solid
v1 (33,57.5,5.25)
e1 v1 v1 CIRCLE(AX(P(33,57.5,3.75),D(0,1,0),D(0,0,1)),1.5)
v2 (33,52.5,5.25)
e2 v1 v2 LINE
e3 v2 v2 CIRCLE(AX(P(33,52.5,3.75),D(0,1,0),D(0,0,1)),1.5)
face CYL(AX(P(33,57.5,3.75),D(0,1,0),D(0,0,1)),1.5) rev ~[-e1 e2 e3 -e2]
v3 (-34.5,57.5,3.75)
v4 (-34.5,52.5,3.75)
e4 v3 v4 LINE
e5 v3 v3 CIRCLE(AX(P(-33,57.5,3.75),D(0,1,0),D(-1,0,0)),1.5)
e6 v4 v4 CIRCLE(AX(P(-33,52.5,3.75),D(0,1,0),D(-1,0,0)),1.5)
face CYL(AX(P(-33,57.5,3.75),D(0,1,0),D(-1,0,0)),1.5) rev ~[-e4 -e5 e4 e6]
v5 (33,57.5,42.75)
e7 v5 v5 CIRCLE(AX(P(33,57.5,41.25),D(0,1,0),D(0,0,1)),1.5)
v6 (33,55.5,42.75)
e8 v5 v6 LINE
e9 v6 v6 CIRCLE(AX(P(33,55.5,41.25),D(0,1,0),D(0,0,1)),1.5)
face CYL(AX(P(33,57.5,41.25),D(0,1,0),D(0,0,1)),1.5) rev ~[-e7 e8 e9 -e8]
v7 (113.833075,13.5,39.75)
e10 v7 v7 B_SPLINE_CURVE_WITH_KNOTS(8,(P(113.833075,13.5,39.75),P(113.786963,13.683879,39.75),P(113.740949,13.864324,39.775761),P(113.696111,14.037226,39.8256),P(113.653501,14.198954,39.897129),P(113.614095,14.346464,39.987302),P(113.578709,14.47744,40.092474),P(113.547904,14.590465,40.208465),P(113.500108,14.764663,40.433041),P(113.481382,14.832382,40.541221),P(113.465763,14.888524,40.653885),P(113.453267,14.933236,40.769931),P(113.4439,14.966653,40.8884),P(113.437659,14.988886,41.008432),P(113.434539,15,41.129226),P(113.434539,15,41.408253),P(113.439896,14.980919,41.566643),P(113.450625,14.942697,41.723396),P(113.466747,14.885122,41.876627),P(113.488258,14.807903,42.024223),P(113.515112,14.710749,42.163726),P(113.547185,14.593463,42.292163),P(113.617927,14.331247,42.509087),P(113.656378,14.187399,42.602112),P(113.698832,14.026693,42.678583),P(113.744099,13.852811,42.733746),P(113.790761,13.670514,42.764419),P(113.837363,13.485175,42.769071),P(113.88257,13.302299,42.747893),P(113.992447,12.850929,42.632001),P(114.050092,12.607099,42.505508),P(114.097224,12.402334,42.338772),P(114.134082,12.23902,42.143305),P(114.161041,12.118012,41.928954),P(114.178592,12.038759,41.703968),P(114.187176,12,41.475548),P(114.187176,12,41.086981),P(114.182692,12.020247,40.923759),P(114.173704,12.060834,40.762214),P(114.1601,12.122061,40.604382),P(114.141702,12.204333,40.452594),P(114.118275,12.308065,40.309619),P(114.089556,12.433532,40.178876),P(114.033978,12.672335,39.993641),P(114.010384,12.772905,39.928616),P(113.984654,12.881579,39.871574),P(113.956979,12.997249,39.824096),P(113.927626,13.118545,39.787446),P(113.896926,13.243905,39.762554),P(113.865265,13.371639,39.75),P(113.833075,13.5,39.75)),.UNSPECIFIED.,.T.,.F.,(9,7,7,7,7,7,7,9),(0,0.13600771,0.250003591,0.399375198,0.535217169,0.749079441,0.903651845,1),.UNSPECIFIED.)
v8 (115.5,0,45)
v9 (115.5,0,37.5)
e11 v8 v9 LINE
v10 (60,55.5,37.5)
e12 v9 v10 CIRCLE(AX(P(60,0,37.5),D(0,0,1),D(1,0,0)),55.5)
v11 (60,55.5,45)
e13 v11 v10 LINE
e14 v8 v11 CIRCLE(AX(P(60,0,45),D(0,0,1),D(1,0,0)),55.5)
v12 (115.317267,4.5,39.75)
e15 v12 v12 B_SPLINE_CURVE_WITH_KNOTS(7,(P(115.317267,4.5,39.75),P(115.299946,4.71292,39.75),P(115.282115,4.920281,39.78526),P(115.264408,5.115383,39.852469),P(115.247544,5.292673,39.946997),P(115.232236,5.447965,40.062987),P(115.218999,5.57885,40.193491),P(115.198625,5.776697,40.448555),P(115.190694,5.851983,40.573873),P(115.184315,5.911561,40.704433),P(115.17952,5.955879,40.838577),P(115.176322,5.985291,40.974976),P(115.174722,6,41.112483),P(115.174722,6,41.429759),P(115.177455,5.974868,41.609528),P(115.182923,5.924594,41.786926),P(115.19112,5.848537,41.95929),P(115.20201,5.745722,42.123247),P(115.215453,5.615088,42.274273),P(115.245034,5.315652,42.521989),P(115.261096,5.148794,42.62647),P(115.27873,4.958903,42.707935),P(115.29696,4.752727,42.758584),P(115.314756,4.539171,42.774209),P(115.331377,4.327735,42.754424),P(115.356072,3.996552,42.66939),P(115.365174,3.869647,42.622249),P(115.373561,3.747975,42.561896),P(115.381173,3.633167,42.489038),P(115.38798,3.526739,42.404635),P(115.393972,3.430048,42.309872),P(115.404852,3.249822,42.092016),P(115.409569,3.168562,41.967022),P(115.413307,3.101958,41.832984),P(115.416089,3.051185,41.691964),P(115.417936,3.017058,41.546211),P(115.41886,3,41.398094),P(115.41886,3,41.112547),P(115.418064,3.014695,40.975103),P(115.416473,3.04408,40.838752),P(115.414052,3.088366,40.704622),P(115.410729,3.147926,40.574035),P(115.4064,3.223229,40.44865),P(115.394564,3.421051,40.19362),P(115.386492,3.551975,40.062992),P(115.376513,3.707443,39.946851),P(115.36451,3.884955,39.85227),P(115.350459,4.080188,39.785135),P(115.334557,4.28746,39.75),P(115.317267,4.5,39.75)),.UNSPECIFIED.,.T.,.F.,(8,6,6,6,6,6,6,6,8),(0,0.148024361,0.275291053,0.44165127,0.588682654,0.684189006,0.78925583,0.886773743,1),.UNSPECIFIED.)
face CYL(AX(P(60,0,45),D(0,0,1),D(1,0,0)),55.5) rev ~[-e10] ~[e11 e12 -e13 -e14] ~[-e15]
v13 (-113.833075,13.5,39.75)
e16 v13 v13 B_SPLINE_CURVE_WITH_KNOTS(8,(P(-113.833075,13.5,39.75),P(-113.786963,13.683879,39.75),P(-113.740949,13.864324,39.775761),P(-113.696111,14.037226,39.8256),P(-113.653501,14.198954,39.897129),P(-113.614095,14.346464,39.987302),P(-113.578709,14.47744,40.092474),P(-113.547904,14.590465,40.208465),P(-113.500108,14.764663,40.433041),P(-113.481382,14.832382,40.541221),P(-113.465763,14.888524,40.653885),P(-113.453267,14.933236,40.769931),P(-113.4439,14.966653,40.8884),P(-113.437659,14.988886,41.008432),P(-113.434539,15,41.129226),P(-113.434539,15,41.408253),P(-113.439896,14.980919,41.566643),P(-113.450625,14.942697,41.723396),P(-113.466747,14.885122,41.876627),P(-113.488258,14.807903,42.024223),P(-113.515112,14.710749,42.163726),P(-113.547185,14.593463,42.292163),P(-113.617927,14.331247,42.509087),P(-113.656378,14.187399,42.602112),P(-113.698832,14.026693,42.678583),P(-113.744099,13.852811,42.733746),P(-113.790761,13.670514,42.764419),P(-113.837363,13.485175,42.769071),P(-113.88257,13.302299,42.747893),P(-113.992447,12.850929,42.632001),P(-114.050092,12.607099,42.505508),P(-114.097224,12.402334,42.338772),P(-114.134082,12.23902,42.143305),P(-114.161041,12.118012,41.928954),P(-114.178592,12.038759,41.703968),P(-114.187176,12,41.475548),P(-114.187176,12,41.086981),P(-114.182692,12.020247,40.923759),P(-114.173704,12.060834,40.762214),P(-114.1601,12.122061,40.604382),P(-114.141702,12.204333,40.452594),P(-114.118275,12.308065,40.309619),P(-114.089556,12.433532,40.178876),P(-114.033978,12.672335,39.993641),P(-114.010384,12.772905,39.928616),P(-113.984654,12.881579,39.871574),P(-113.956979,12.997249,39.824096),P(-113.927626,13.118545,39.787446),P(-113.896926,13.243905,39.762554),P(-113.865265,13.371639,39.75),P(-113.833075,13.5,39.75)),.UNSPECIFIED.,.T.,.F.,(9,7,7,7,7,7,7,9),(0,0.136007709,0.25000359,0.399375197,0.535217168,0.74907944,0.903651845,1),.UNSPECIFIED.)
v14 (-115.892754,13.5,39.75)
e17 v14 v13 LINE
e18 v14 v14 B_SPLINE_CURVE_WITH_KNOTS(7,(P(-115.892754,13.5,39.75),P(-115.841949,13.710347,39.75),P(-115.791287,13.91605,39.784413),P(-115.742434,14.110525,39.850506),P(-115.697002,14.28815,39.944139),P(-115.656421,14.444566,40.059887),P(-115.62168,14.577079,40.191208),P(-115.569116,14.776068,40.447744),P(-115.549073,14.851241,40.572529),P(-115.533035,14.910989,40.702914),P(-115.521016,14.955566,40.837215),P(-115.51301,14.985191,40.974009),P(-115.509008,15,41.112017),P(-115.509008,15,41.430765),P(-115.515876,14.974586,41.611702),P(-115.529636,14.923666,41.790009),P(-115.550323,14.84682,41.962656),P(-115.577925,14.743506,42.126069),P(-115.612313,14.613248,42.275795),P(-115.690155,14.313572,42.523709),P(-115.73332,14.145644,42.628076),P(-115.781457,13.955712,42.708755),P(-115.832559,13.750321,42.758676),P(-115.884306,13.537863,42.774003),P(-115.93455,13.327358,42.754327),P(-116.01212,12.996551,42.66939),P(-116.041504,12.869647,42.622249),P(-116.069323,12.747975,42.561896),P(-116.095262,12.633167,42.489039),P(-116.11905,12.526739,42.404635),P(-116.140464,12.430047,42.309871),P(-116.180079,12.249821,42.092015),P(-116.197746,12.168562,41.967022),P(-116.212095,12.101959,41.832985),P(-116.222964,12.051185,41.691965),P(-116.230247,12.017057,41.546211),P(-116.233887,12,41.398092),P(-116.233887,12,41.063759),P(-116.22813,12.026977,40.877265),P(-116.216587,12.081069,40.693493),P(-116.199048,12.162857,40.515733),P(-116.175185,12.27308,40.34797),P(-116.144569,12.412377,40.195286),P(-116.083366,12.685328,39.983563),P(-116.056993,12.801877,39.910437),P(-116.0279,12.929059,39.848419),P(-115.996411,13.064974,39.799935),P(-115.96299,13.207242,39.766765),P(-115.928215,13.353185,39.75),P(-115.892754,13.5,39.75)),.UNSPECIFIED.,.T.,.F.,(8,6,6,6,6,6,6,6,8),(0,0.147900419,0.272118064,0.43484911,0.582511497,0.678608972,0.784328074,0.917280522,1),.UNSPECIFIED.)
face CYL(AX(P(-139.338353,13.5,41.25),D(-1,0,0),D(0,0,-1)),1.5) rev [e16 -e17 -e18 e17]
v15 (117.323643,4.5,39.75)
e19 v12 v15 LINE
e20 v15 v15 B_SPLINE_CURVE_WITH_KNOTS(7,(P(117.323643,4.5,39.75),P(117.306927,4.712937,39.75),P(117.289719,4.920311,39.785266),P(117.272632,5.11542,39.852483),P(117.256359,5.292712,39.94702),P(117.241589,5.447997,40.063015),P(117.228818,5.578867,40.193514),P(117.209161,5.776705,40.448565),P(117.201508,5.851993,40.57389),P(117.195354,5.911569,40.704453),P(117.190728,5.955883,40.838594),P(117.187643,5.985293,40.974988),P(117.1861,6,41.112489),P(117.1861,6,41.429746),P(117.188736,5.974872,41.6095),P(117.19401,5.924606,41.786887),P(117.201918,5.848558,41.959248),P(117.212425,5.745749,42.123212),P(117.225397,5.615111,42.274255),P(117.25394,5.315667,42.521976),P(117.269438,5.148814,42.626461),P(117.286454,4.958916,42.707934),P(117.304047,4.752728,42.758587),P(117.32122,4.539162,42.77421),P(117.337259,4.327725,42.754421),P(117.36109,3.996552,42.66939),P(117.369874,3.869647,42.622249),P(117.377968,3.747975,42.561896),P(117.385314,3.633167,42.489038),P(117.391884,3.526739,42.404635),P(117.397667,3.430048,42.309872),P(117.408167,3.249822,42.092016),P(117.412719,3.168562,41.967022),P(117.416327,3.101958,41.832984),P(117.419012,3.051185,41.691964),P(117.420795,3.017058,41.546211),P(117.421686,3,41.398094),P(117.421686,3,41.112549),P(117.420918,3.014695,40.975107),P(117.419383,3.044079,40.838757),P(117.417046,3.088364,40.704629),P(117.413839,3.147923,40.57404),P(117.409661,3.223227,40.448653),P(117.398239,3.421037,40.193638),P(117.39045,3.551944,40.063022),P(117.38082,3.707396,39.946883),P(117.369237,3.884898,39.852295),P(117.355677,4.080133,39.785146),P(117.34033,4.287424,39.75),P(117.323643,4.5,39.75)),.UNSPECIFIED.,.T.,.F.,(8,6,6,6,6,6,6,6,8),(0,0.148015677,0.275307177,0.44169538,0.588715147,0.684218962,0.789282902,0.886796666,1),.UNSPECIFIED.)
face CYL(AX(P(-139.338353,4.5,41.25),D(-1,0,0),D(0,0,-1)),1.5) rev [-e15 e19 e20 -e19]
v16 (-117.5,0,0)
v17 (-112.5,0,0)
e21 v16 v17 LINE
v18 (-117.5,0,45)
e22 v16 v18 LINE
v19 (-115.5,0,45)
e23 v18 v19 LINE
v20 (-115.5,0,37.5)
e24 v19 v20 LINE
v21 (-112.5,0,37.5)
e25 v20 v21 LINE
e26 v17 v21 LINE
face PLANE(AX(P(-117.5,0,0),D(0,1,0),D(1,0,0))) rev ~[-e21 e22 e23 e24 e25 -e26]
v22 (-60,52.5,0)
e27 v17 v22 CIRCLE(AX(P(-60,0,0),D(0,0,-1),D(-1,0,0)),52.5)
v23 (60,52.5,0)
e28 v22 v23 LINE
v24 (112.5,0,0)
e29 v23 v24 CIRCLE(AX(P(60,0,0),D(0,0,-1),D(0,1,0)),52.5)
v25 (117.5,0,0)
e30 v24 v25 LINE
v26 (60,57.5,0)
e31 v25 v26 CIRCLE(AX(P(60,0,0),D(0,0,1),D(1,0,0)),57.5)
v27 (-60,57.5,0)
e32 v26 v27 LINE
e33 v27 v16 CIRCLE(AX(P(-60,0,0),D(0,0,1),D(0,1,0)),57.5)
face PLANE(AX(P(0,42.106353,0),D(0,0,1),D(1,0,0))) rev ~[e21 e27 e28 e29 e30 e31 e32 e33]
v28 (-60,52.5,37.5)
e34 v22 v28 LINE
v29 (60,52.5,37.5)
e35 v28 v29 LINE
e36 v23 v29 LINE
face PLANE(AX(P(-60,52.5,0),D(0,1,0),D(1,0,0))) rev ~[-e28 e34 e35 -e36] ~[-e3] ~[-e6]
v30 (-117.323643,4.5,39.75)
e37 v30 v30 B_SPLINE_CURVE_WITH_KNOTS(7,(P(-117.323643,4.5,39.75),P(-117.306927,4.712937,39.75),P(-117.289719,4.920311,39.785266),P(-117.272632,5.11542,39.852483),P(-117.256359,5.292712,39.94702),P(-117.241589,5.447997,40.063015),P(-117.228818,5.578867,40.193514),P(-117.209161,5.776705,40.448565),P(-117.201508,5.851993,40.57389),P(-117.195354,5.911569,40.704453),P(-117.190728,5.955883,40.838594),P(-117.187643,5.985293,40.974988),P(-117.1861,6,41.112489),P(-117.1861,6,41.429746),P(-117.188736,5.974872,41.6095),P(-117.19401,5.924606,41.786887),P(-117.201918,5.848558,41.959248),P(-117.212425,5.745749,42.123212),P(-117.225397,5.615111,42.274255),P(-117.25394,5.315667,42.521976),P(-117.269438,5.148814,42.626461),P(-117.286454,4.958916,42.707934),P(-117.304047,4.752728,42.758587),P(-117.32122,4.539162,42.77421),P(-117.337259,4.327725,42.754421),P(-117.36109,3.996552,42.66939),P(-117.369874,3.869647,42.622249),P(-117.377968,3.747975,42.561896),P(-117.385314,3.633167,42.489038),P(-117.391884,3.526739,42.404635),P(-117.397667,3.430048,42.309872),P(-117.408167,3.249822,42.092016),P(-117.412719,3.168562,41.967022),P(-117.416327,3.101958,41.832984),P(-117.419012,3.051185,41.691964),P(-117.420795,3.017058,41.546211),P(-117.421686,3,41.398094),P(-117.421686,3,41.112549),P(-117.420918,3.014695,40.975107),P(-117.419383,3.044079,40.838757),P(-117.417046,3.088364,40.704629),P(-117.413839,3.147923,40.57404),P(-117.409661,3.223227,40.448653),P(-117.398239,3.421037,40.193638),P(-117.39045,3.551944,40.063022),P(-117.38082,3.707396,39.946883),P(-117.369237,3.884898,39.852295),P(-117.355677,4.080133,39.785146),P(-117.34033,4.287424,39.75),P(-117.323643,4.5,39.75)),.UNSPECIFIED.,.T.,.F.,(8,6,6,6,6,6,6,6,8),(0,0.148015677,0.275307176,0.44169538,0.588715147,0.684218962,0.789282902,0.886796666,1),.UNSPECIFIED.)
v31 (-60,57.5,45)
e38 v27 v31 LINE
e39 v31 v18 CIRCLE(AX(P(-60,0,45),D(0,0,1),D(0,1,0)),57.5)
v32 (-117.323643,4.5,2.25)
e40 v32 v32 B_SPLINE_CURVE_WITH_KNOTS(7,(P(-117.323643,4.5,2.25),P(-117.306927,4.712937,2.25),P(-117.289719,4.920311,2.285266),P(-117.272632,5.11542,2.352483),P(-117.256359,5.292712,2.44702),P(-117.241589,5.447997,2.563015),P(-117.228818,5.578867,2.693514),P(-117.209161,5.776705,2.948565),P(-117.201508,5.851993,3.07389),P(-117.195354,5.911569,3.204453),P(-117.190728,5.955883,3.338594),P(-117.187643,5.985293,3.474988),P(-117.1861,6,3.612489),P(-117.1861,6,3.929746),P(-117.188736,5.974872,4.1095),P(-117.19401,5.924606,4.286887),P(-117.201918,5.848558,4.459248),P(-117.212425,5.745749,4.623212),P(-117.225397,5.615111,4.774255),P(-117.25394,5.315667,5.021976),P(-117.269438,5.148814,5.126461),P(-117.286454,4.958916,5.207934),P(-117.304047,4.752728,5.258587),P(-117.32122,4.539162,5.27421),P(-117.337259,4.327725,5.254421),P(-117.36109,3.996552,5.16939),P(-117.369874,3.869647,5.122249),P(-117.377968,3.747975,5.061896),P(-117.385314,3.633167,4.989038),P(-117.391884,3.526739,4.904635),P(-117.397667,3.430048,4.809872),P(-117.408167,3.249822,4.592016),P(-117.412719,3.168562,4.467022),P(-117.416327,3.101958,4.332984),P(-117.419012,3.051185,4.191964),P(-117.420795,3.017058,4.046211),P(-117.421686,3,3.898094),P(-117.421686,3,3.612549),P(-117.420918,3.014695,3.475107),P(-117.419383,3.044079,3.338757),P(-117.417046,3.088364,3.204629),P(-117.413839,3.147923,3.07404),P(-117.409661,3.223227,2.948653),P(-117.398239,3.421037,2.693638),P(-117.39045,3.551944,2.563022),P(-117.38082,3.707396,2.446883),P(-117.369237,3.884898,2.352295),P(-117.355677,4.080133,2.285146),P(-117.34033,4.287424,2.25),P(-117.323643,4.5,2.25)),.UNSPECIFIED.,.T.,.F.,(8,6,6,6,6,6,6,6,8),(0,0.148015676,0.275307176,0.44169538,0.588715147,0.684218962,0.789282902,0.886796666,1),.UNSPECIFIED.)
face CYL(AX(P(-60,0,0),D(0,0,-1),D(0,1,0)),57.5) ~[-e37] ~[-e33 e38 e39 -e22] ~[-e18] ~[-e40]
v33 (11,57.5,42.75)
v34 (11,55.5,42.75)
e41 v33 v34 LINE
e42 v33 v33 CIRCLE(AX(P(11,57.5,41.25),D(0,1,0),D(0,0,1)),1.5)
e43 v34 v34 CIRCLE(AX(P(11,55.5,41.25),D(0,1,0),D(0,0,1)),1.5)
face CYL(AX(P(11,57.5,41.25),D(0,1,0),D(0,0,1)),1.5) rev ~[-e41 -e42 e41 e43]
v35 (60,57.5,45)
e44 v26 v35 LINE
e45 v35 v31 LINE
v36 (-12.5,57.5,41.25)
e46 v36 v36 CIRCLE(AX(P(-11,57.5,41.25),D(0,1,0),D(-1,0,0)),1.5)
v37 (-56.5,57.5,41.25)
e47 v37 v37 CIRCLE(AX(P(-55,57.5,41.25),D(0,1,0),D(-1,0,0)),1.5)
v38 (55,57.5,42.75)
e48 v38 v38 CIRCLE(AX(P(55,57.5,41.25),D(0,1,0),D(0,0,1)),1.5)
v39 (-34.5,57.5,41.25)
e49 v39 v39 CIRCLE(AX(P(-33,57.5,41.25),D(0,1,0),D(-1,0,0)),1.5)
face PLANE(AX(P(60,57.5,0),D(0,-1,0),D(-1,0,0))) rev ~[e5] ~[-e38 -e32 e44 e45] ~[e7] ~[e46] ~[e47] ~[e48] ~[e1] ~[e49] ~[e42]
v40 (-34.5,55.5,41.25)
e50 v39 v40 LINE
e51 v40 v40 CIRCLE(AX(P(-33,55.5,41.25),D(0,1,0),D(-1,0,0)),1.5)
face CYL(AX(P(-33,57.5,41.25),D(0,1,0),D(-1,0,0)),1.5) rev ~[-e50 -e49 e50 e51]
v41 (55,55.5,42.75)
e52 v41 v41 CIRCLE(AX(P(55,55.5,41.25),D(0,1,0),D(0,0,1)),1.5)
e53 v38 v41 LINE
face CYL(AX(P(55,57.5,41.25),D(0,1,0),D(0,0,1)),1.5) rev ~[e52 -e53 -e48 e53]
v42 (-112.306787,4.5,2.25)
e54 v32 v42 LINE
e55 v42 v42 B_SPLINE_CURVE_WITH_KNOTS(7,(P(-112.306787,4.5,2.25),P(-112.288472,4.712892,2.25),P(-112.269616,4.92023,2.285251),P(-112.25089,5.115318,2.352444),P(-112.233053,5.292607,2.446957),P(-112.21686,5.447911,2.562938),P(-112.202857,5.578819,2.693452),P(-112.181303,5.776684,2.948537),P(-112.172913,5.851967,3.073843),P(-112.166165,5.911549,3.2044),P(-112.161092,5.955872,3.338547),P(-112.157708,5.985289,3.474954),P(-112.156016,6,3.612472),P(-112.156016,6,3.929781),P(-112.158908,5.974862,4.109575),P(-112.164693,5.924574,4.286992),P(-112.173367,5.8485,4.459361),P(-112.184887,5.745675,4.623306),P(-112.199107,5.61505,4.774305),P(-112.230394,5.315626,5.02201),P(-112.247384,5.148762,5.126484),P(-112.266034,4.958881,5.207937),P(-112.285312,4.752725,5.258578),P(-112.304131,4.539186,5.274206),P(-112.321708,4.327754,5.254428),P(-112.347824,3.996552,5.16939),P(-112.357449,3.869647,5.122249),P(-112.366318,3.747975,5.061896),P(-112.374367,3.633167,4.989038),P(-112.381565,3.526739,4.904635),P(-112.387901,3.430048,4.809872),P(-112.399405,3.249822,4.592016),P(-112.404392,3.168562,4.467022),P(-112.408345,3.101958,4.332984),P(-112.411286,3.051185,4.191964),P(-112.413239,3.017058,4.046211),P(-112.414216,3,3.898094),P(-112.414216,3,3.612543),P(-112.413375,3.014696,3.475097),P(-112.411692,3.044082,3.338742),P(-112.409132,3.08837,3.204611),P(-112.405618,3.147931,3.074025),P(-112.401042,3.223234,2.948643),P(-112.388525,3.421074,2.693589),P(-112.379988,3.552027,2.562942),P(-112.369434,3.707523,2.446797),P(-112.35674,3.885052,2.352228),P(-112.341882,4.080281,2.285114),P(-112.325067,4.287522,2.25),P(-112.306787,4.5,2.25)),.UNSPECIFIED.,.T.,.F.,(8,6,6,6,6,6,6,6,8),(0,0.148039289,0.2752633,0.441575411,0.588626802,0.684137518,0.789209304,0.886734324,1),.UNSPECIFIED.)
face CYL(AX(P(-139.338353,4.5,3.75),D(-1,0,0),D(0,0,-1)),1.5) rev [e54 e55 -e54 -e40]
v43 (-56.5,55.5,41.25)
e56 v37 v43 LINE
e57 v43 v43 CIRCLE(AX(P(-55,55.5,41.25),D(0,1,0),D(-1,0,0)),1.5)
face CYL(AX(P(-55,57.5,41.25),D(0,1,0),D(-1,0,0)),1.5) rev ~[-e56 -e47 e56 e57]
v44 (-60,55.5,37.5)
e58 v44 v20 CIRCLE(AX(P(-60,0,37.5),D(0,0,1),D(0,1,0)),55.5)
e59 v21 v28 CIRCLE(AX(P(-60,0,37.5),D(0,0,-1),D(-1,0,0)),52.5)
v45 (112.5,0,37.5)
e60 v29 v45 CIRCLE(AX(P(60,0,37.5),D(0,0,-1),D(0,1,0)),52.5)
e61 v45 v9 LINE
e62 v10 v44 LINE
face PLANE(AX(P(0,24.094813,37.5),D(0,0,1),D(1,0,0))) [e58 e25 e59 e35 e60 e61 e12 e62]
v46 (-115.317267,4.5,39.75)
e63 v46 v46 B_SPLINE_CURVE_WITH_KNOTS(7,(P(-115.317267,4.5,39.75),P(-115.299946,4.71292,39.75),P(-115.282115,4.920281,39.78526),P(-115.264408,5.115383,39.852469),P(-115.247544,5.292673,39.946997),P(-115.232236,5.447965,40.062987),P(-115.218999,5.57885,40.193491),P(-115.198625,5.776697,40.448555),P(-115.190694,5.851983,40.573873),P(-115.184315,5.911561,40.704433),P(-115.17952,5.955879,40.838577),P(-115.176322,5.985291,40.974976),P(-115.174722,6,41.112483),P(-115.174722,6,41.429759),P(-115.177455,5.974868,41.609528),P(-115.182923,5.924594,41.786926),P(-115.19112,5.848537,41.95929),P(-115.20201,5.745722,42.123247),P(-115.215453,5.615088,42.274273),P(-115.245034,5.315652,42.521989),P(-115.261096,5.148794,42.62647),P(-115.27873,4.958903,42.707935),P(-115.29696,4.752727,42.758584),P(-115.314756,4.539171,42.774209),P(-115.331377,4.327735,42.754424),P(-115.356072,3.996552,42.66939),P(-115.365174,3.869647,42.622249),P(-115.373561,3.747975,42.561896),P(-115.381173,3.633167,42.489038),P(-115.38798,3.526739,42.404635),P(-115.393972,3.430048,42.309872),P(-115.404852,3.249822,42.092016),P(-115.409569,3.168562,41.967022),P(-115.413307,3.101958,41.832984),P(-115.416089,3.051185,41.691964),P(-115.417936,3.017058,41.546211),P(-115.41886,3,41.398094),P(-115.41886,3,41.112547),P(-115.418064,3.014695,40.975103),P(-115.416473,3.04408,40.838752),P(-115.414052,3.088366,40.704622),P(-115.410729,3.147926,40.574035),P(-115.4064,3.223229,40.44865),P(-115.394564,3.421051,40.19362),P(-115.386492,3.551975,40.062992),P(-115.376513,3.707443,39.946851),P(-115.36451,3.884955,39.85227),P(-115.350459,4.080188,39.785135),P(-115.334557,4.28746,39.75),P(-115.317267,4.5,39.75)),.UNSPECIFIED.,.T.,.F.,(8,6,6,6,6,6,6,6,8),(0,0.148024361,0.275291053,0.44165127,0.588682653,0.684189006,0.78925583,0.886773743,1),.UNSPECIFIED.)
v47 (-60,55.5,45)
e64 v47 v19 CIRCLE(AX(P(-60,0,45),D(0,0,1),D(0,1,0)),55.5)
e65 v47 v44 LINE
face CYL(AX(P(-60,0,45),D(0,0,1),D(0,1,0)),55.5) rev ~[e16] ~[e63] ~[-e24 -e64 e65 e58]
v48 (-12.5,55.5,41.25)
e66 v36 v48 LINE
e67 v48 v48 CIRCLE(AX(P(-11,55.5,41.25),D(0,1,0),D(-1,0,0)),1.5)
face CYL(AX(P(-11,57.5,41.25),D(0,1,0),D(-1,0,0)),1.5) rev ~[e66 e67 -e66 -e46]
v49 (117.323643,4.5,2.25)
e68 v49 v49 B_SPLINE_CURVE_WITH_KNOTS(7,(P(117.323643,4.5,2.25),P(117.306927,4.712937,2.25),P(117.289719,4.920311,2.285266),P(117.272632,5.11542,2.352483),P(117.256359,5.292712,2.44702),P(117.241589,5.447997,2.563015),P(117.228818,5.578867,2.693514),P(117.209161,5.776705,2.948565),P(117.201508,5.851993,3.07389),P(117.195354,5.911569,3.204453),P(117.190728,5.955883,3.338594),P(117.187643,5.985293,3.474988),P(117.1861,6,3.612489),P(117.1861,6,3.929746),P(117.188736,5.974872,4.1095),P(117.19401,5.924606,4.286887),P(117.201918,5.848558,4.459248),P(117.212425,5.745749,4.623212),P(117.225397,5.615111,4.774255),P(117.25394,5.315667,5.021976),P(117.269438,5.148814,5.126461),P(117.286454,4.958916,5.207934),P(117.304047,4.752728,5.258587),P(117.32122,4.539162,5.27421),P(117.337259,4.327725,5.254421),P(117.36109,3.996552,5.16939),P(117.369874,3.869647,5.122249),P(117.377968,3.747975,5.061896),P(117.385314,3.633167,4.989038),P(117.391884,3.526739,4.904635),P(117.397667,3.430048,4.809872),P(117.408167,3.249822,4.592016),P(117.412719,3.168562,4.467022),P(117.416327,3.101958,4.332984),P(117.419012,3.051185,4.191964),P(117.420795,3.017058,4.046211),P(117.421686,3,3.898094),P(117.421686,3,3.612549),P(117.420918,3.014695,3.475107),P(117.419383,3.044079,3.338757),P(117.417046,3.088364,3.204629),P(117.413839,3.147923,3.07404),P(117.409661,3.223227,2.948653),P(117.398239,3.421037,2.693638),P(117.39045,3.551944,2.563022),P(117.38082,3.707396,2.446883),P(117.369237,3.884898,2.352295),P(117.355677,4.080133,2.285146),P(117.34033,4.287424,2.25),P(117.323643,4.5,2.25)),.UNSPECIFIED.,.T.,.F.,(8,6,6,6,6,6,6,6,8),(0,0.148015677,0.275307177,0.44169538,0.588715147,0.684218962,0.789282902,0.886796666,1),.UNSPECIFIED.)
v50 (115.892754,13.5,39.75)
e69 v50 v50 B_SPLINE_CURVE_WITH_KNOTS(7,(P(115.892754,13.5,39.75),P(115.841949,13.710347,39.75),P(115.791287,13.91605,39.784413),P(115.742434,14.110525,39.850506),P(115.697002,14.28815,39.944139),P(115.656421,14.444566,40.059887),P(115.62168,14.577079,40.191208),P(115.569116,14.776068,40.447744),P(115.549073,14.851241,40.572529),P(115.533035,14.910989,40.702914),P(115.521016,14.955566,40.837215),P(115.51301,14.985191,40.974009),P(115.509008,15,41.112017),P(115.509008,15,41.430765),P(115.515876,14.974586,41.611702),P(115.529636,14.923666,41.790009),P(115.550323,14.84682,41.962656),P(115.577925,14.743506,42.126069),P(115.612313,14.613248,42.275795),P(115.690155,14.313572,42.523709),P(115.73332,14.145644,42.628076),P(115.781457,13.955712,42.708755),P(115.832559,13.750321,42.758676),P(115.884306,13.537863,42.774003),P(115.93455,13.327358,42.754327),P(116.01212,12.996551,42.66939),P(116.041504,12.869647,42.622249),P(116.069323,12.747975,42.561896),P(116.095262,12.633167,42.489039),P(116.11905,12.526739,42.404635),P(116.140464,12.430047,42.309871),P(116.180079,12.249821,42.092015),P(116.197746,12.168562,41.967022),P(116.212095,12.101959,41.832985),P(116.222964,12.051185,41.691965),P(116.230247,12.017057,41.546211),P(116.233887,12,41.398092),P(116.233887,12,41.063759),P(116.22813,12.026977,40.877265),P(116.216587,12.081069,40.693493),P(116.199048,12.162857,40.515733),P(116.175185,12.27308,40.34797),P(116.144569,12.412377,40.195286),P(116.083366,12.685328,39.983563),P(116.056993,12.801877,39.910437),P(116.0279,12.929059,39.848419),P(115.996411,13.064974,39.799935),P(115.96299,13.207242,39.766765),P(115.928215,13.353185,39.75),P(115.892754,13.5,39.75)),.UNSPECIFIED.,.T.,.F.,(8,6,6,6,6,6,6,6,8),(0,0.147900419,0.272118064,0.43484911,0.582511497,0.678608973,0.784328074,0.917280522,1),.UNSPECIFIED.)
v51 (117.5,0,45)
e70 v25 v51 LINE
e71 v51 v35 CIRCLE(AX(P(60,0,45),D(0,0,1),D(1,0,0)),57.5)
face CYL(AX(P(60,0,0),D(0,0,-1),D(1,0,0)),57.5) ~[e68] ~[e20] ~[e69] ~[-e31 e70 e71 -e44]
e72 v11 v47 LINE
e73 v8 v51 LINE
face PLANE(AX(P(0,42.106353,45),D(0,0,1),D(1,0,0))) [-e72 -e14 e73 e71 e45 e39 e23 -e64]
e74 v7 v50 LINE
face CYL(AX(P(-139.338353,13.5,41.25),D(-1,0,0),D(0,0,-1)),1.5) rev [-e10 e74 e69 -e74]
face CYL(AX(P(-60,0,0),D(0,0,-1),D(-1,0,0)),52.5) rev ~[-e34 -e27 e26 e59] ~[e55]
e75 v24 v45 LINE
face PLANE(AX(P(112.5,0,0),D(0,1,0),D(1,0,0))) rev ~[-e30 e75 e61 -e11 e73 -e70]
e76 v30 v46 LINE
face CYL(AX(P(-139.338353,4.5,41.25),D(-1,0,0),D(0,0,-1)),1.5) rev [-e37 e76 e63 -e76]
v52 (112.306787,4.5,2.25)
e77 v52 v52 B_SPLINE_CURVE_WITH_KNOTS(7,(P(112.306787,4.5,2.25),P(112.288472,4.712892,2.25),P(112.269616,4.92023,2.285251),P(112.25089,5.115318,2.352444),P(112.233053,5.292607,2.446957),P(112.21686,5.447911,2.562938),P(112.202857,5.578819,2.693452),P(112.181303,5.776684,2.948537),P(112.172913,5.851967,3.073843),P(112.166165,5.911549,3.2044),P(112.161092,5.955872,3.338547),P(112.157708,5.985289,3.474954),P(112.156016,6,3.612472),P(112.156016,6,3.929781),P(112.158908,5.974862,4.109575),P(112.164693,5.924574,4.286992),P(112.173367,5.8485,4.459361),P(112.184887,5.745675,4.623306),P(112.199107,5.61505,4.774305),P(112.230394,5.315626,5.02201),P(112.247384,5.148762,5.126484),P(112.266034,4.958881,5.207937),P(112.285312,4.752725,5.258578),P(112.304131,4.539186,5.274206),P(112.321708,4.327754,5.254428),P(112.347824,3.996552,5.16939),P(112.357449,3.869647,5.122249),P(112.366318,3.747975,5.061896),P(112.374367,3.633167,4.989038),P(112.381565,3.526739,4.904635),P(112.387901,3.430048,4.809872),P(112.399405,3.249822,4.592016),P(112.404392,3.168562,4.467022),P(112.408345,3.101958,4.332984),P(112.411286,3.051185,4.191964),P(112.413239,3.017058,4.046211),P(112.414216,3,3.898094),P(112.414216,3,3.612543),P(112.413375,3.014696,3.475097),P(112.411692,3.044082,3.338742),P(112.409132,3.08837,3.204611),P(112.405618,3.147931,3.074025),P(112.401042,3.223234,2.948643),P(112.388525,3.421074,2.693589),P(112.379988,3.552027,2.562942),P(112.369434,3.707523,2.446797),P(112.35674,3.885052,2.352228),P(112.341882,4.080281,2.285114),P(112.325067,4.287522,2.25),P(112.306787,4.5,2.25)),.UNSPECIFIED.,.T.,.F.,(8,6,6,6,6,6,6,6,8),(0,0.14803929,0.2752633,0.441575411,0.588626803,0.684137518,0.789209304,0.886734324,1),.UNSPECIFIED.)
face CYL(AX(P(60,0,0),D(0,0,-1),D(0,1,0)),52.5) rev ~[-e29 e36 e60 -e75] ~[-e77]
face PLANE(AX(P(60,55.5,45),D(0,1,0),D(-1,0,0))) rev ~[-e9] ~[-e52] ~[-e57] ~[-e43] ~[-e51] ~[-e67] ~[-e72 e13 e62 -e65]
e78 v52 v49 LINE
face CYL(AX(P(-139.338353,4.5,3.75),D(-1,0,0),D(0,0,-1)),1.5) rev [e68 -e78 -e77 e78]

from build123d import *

# Parameters (mm, degrees)
BOSS_EXTRUDE1_DEPTH     = 45
CUT_EXTRUDE1_DEPTH      = 7.5
SKETCH4_R               = 1.5
CUT_EXTRUDE2_DEPTH      = 7.5
CUT_EXTRUDE3_DEPTH      = 139.338353323
CUT_EXTRUDE3_DEPTH_BACK = 139.338353323
SKETCH5_R               = 1.5


with BuildPart() as part:
    # Sketch1 → Boss-Extrude1 (new body)
    with BuildSketch(Plane.XY):
        with BuildLine():
            ThreePointArc((-112.5, 0), (-97.123106012, 37.123106012), (-60, 52.5))
            Line((-60, 52.5), (60, 52.5))
            ThreePointArc((60, 52.5), (97.123106012, 37.123106012), (112.5, 0))
            Line((112.5, 0), (117.5, 0))
            ThreePointArc((117.5, 0), (100.658639918, 40.658639918), (60, 57.5))
            Line((60, 57.5), (-60, 57.5))
            ThreePointArc((-60, 57.5), (-100.658639918, 40.658639918), (-117.5, 0))
            Line((-117.5, 0), (-112.5, 0))
        make_face()
    extrude(amount=BOSS_EXTRUDE1_DEPTH)

    # Sketch3 → Cut-Extrude1 (cut)
    with BuildSketch(Plane.XY.offset(45)):
        with BuildLine():
            Line((-115.5, 0), (115.5, 0))
            ThreePointArc((115.5, 0), (99.244426356, 39.244426356), (60, 55.5))
            Line((60, 55.5), (-60, 55.5))
            ThreePointArc((-60, 55.5), (-99.244426356, 39.244426356), (-115.5, 0))
        make_face()
    extrude(amount=-CUT_EXTRUDE1_DEPTH, mode=Mode.SUBTRACT)

    # Sketch4 → Cut-Extrude2 (cut)
    with BuildSketch(Plane(origin=(0, 57.5, 0), x_dir=(1, 0, 0), z_dir=(0, 1, 0))):
        with Locations(Location((33, -3.75, 0), (0, 0, 270))):
            Circle(SKETCH4_R)
        with Locations(Location((11, -41.25, 0), (0, 0, 270))):
            Circle(SKETCH4_R)
        with Locations(Location((33, -41.25, 0), (0, 0, 270))):
            Circle(SKETCH4_R)
        with Locations(Location((55, -41.25, 0), (0, 0, 270))):
            Circle(SKETCH4_R)
        with Locations(Location((-33, -3.75, 0), (0, 0, 180))):
            Circle(SKETCH4_R)
        with Locations(Location((-11, -41.25, 0), (0, 0, 180))):
            Circle(SKETCH4_R)
        with Locations(Location((-33, -41.25, 0), (0, 0, 180))):
            Circle(SKETCH4_R)
        with Locations(Location((-55, -41.25, 0), (0, 0, 180))):
            Circle(SKETCH4_R)
    extrude(amount=-CUT_EXTRUDE2_DEPTH, mode=Mode.SUBTRACT)

    # Sketch5 → Cut-Extrude3 (cut, two sides: drawn at the far end of the back side and taken through both)
    with BuildSketch(Plane(origin=(0, 0, 0), x_dir=(0, 0, -1), z_dir=(1, 0, 0)).offset(-CUT_EXTRUDE3_DEPTH_BACK)):
        with Locations((-3.75, 4.5)):
            Circle(SKETCH5_R)
        with Locations((-41.25, 4.5)):
            Circle(SKETCH5_R)
        with Locations((-41.25, 13.5)):
            Circle(SKETCH5_R)
    extrude(amount=CUT_EXTRUDE3_DEPTH + CUT_EXTRUDE3_DEPTH_BACK, mode=Mode.SUBTRACT)


solid = part.part
